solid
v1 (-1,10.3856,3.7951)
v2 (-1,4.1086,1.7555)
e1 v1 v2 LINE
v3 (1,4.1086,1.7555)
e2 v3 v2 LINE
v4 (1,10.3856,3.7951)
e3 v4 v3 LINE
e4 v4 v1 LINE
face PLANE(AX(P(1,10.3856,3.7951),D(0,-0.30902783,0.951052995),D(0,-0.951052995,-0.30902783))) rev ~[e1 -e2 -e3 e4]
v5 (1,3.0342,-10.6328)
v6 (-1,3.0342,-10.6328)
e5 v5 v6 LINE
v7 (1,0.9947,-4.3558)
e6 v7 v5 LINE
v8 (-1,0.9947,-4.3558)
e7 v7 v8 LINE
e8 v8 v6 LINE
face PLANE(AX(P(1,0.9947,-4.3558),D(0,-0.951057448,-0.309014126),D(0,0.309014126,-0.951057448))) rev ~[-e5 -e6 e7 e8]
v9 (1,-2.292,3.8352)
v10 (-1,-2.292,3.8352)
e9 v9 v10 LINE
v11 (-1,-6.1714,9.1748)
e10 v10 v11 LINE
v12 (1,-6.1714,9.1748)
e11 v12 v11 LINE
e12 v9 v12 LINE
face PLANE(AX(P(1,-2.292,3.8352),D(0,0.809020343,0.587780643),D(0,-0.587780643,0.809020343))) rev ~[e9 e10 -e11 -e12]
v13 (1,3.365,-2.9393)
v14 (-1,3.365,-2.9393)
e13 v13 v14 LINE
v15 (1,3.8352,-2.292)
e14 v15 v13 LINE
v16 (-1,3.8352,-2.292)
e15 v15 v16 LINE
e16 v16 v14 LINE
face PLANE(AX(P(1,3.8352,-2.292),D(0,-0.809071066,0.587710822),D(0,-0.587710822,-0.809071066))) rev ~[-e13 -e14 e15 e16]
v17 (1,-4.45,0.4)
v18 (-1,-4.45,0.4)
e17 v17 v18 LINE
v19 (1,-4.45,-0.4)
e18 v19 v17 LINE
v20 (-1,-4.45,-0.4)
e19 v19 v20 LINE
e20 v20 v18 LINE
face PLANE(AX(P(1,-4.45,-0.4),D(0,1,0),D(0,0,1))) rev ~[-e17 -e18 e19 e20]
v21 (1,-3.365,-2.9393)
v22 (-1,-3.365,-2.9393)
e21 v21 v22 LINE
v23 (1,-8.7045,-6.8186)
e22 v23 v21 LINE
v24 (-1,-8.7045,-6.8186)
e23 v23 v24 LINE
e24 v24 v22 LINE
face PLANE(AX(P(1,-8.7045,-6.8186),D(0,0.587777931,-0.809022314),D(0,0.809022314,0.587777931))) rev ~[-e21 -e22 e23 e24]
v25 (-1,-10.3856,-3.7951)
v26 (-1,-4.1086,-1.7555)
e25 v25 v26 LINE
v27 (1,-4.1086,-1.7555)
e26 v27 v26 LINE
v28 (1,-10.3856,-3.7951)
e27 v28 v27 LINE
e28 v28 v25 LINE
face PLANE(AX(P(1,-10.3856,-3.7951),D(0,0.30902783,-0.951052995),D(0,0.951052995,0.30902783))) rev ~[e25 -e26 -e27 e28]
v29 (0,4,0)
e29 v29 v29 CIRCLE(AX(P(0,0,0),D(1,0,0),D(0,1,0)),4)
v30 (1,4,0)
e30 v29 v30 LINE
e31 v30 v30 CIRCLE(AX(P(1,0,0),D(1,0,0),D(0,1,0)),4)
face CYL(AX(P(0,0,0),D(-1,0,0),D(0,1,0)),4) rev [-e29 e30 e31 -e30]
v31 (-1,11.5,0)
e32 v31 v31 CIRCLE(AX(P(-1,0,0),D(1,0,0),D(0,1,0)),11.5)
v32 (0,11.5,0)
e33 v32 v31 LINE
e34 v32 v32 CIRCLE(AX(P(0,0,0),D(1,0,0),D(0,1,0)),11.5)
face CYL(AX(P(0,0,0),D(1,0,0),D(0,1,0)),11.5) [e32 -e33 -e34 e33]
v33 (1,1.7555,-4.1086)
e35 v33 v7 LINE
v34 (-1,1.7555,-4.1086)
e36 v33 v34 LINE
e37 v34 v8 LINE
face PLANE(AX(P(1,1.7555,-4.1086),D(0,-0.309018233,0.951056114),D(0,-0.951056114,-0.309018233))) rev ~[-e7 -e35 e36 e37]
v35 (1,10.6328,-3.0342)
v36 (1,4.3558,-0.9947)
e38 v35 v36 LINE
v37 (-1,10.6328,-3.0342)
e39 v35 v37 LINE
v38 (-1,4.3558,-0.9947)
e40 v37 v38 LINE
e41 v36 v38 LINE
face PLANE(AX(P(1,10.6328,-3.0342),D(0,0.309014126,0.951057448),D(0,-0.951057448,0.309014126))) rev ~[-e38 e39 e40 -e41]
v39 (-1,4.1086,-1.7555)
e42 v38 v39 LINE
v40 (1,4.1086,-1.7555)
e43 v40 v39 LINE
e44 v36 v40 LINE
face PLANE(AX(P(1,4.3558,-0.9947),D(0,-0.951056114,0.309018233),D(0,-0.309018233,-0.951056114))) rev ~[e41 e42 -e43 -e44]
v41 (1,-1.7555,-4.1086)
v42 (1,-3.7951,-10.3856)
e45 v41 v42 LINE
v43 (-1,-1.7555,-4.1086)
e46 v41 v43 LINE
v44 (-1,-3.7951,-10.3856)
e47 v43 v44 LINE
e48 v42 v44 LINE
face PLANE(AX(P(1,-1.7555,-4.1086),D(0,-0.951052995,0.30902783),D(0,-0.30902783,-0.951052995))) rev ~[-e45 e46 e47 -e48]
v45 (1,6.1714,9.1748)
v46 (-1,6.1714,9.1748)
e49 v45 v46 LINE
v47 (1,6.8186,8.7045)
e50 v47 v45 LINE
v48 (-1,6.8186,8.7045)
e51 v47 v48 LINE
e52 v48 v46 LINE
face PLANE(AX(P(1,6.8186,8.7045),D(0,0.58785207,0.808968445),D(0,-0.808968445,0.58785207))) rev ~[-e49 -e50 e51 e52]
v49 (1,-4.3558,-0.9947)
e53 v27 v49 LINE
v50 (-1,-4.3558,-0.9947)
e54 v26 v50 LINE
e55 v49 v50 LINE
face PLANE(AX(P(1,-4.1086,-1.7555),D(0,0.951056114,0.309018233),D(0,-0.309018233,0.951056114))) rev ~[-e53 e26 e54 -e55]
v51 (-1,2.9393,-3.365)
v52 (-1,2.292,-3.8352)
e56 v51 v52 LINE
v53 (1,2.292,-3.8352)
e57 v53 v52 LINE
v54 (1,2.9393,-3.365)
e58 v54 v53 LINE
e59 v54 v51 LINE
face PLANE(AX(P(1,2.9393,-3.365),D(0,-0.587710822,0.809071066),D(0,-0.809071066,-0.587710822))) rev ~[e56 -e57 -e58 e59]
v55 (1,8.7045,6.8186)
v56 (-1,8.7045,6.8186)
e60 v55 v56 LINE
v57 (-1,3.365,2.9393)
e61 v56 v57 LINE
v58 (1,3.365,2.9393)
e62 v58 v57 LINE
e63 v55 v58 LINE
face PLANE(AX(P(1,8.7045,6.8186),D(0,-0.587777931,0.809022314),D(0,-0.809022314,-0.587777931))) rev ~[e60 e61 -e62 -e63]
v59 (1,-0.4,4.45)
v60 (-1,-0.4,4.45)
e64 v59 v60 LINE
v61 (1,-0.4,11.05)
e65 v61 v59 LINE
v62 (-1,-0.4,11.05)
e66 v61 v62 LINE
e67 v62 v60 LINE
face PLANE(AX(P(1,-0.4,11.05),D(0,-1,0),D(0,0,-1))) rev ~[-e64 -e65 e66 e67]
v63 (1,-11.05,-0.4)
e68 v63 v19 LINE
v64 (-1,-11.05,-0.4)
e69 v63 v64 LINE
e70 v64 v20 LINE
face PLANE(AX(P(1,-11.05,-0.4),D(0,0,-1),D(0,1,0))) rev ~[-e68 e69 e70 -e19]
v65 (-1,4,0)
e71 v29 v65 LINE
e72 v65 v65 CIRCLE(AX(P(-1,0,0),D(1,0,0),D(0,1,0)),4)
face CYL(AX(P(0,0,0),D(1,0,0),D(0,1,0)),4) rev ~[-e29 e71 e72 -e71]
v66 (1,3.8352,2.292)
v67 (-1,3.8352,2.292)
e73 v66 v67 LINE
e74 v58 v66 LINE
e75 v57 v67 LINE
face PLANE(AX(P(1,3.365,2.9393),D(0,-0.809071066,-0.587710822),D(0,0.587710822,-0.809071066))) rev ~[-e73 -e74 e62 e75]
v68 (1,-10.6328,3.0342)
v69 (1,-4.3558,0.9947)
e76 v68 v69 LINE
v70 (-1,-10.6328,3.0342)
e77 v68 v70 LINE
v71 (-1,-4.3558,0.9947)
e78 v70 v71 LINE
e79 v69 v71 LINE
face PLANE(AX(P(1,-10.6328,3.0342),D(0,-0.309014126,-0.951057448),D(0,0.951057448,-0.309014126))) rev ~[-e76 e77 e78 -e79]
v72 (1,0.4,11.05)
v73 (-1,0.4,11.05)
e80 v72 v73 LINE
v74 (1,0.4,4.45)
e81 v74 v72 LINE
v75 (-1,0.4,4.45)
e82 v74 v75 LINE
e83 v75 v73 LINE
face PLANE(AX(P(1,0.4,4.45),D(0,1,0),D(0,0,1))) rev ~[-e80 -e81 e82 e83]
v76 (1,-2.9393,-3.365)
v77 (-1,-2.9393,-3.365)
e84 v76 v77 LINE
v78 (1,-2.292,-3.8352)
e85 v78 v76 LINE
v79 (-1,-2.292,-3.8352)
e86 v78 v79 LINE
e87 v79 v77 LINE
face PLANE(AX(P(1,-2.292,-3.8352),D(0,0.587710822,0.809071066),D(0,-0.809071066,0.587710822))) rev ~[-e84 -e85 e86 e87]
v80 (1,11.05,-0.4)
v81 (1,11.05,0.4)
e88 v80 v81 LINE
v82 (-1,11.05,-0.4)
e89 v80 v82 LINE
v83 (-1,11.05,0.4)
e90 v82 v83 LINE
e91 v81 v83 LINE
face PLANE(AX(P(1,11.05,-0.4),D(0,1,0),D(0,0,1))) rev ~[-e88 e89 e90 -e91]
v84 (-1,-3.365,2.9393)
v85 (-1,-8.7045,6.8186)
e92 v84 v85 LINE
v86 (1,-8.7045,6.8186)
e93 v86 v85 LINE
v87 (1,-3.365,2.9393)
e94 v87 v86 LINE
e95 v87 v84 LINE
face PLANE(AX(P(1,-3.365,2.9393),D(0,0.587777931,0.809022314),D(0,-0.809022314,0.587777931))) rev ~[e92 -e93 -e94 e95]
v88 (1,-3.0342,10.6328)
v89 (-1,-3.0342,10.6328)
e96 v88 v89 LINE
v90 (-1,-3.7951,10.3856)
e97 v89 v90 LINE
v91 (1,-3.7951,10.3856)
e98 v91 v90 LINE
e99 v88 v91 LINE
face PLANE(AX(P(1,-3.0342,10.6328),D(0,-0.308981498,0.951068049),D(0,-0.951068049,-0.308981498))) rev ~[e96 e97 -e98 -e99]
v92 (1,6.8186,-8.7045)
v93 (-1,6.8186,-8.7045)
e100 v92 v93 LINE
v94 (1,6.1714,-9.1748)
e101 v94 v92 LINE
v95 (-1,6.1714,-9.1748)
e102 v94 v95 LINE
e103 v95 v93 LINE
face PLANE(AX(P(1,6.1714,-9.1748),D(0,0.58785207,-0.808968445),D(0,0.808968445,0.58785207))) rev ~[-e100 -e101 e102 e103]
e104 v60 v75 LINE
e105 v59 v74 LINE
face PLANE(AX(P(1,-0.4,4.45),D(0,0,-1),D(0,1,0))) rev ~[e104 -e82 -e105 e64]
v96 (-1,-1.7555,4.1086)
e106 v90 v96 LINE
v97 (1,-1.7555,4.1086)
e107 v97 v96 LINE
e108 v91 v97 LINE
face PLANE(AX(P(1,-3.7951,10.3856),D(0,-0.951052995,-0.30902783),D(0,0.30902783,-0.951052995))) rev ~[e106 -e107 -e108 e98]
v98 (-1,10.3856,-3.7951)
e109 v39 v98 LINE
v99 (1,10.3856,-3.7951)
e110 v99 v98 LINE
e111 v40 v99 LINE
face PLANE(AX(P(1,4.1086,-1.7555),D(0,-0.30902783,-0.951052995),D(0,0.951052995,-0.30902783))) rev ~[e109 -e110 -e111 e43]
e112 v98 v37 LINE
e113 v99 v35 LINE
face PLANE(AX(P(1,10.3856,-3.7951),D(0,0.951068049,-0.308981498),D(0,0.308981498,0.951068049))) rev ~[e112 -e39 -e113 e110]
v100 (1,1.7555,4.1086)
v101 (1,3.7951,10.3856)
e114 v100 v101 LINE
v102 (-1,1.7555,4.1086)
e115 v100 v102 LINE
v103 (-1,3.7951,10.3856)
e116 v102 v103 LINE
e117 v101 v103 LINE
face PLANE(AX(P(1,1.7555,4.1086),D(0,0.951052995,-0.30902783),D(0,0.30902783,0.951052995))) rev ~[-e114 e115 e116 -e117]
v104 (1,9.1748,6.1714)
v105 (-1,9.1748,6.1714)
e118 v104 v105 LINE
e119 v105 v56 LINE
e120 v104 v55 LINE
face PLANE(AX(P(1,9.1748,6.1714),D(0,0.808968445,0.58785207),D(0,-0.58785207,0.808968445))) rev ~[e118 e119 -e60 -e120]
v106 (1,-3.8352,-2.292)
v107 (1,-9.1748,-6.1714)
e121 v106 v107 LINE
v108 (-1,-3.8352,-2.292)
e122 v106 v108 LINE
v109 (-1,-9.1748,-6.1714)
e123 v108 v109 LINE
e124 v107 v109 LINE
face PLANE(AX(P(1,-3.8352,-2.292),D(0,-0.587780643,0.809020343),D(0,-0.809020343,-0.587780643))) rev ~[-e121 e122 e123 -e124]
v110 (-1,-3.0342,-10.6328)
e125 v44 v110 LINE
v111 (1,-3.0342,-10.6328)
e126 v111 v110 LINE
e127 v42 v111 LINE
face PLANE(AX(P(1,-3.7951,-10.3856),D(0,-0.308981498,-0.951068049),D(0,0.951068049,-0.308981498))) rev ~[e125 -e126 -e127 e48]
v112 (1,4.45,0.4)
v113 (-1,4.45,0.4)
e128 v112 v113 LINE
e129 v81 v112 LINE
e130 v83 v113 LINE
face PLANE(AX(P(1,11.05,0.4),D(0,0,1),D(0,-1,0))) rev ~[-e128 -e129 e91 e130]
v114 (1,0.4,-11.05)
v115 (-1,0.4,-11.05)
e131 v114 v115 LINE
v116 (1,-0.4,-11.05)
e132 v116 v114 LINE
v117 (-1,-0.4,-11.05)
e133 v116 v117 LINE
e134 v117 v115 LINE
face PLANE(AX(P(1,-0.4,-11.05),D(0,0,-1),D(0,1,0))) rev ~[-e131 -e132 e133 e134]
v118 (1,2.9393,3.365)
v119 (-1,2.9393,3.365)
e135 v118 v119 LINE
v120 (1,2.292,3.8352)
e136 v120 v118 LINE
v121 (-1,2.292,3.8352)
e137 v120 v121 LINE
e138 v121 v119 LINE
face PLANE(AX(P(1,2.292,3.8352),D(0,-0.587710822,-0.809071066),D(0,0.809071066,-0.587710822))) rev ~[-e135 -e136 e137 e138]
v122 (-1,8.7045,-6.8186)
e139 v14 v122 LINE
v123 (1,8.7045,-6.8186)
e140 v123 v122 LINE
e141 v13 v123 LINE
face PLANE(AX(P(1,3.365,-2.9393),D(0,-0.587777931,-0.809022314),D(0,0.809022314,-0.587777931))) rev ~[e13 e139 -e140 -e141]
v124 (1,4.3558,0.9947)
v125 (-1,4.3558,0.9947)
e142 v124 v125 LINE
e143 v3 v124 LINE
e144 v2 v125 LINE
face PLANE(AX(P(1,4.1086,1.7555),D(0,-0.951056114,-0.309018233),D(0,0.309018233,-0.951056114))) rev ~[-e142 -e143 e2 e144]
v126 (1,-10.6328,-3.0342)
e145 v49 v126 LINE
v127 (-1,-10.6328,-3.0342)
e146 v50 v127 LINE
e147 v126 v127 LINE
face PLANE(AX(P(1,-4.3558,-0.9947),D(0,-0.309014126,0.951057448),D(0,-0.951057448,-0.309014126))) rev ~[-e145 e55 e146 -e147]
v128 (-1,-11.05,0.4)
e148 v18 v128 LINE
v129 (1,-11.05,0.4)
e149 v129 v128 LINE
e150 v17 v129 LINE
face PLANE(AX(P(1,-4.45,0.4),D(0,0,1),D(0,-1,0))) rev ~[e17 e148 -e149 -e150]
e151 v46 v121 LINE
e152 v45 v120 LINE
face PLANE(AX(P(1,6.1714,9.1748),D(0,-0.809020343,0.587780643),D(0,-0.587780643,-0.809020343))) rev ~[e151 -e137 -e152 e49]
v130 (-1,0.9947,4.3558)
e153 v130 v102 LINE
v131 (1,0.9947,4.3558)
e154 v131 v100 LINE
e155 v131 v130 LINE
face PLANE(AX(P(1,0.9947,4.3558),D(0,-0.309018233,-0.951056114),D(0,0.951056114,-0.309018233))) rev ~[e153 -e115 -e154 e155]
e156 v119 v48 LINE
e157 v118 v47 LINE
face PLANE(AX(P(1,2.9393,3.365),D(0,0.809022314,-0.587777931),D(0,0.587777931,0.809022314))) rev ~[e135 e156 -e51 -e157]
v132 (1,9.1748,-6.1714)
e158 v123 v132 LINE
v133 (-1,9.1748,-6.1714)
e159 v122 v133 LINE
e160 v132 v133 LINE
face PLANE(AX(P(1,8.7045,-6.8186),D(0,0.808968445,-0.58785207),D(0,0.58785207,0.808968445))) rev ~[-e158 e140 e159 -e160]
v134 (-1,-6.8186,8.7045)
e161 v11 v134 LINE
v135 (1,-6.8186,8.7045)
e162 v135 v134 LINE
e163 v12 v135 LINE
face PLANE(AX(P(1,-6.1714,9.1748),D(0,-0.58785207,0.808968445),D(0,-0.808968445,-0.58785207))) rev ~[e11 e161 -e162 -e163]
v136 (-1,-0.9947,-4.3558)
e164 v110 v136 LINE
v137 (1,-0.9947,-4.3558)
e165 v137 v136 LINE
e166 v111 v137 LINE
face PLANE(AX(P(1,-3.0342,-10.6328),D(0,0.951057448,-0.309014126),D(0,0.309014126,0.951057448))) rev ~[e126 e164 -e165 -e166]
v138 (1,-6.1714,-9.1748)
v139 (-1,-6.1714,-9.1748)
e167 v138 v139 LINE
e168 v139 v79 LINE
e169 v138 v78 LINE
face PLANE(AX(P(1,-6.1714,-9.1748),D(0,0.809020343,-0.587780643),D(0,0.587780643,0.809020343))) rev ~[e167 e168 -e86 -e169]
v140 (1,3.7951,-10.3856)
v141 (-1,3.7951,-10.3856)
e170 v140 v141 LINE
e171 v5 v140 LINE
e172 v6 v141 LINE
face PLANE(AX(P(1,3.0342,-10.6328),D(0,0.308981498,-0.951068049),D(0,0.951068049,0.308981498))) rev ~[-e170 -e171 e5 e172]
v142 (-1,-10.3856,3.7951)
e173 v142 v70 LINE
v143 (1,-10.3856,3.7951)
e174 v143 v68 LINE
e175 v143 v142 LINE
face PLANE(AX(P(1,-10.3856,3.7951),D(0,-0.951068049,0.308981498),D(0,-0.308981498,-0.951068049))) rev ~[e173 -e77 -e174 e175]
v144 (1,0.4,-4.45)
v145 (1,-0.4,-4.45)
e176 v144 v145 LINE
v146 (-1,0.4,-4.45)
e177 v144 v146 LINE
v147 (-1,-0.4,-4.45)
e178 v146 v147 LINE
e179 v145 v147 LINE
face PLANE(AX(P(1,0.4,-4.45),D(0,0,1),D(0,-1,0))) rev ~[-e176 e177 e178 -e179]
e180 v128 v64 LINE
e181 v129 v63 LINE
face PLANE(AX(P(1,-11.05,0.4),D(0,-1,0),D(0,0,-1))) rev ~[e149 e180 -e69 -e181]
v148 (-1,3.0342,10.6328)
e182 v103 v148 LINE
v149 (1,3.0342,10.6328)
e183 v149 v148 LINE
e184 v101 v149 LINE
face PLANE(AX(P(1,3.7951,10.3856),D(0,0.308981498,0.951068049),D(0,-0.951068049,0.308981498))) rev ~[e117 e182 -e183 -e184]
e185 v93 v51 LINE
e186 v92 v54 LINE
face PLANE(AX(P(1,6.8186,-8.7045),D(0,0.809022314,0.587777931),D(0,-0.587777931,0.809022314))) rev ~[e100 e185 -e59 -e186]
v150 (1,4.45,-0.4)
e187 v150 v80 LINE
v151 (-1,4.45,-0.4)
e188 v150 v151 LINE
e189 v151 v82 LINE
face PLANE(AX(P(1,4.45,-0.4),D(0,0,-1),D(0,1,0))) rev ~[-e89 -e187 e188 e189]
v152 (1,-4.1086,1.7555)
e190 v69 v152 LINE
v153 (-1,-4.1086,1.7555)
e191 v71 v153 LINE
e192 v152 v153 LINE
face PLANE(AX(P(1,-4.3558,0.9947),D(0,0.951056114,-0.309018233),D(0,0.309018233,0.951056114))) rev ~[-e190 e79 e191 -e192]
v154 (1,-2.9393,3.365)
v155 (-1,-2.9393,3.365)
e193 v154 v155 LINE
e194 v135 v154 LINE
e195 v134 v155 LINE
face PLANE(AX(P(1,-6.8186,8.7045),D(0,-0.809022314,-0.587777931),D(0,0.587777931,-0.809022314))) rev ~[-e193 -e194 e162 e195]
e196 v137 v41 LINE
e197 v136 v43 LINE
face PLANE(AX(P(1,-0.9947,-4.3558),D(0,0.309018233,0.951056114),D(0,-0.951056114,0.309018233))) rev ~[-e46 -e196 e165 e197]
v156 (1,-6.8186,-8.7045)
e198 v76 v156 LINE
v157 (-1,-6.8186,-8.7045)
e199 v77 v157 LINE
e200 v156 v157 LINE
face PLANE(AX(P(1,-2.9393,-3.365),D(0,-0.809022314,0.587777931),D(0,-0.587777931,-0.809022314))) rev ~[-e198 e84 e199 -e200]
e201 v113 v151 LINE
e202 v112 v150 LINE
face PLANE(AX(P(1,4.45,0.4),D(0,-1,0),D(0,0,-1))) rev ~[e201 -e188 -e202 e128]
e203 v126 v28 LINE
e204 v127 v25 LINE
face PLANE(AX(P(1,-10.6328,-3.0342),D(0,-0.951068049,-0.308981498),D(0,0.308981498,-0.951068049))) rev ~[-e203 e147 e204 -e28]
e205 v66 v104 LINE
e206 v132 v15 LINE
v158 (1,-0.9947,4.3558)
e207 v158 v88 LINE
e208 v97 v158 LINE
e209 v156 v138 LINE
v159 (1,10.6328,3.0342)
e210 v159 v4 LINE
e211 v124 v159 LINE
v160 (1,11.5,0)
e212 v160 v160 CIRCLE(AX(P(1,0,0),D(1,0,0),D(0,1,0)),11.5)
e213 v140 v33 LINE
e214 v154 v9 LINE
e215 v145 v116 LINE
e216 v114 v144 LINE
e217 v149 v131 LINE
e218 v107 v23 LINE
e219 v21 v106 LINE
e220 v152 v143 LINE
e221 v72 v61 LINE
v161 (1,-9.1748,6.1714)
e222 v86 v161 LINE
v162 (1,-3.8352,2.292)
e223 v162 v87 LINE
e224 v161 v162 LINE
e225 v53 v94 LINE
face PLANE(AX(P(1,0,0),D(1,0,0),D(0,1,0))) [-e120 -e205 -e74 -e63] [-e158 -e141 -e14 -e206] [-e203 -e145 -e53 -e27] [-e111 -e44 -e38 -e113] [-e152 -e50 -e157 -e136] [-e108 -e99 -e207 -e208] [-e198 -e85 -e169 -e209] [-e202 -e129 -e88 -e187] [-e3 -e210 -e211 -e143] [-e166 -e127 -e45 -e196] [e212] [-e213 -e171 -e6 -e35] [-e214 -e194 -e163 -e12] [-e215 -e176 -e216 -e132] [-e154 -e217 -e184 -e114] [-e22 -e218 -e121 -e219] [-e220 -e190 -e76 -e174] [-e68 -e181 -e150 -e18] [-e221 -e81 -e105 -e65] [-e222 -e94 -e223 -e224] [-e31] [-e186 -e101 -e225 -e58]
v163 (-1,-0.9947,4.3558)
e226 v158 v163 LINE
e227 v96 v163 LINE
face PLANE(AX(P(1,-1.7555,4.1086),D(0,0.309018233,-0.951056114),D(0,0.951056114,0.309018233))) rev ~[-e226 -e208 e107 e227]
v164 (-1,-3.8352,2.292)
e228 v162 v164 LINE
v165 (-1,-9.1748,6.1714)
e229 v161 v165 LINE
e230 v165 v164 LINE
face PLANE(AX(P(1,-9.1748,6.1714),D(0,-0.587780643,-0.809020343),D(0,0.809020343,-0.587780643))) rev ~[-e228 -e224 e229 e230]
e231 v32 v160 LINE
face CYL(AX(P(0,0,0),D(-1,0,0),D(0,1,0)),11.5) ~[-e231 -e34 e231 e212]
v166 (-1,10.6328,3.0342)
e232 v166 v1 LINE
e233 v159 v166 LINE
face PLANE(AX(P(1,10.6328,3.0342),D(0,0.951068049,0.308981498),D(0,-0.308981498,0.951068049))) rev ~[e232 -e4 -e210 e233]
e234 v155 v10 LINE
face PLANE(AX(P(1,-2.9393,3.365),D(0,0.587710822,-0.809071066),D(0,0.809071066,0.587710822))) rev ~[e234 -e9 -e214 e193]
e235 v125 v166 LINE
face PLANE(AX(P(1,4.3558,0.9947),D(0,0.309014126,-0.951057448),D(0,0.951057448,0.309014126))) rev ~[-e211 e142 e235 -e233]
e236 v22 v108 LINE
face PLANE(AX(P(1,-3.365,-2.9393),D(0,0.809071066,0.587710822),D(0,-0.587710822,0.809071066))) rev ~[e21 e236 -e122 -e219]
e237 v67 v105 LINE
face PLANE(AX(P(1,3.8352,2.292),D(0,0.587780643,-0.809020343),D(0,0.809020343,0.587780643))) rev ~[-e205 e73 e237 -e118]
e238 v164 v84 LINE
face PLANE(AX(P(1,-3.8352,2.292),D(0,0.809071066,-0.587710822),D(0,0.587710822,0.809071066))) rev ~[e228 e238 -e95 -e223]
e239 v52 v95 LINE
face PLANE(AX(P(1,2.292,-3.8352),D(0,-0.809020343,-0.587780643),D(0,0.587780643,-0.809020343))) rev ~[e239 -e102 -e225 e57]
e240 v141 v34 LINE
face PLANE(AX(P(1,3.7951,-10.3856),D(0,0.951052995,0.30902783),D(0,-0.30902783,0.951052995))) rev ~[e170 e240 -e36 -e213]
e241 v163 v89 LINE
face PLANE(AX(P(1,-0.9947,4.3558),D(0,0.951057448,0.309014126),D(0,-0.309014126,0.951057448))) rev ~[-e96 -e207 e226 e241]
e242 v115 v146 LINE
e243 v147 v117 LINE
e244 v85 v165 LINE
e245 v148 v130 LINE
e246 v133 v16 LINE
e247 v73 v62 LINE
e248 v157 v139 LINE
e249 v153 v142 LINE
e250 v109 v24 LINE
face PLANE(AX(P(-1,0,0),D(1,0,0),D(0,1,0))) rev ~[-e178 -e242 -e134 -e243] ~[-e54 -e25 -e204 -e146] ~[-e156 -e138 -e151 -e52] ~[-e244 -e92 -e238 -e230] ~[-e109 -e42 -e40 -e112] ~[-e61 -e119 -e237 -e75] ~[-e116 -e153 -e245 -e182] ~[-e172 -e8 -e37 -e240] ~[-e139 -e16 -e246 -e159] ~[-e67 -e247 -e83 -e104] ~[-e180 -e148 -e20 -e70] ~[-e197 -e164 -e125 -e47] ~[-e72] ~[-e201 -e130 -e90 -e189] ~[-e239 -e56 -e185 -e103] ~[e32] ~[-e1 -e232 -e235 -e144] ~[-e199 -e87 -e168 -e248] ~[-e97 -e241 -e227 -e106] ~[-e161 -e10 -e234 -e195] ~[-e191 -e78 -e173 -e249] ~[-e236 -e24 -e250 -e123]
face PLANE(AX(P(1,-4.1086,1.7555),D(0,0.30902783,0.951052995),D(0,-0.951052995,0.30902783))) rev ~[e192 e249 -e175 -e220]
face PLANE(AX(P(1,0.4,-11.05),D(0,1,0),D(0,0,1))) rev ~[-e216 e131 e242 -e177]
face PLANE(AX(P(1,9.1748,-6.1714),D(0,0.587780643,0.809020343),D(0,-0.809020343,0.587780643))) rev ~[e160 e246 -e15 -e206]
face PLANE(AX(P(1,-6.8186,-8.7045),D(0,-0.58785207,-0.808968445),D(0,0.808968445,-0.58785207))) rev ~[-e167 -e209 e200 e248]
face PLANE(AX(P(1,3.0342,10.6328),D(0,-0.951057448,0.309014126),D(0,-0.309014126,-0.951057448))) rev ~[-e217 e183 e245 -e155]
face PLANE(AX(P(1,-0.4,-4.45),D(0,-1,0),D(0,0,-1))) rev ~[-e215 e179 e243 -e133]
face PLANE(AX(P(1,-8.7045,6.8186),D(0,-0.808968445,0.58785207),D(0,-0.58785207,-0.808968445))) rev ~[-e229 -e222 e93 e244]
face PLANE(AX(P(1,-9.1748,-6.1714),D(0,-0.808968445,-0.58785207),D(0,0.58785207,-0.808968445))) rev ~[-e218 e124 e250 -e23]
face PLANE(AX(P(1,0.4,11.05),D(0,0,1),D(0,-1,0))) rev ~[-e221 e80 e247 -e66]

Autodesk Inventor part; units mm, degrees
ref_plane "YZ Plane" through (0, 0, 0) normal (1, 0, 0) x (0, 1, 0)
ref_plane "XZ Plane" through (0, 0, 0) normal (0, 1, 0) x (-1, 0, 0)
ref_plane "XY Plane" through (0, 0, 0) normal (0, 0, 1) x (1, 0, 0)
sketch "Sketch1" plane through (0, 0, 0) normal (1, 0, 0) x (0, 1, 0)
  circle A0 centre (0, 0) radius 4
  circle A1 centre (0, 0) radius 11.5
  dimension "d0" = 8
  dimension "d1" = 23
extrude "Extrusion1" add sketch "Sketch1" along normal mid plane 2
sketch "Sketch4" plane through (1, 0, 0) normal (1, 0, 0) x (0, 0, -1)
  circle A0 centre (0, 0) radius 11.5 construction
  circle A1 centre (0, 0) radius 4 construction
  line L0 (-11.5, 0) -> (-4, 0) construction
  line L1 (-11.05, -0.4) -> (-4.45, -0.4)
  line L2 (-4.45, -0.4) -> (-4.45, 0.4)
  line L3 (-4.45, 0.4) -> (-11.05, 0.4)
  line L4 (-11.05, 0.4) -> (-11.05, -0.4)
  line L5 (-11.05, -0.4) -> (-4.45, 0.4) construction
  line L6 (-4.45, -0.4) -> (-11.05, 0.4) construction
  line L7 (-4.3558, -0.9947) -> (-10.6328, -3.0342)
  line L8 (-4.1086, -1.7555) -> (-4.3558, -0.9947)
  line L9 (-10.3856, -3.7951) -> (-4.1086, -1.7555)
  line L10 (-10.6328, -3.0342) -> (-10.3856, -3.7951)
  line L11 (-3.8352, -2.292) -> (-9.1748, -6.1714)
  line L12 (-3.365, -2.9393) -> (-3.8352, -2.292)
  line L13 (-8.7045, -6.8186) -> (-3.365, -2.9393)
  line L14 (-9.1748, -6.1714) -> (-8.7045, -6.8186)
  line L15 (-2.9393, -3.365) -> (-6.8186, -8.7045)
  line L16 (-2.292, -3.8352) -> (-2.9393, -3.365)
  line L17 (-6.1714, -9.1748) -> (-2.292, -3.8352)
  line L18 (-6.8186, -8.7045) -> (-6.1714, -9.1748)
  line L19 (-1.7555, -4.1086) -> (-3.7951, -10.3856)
  line L20 (-0.9947, -4.3558) -> (-1.7555, -4.1086)
  line L21 (-3.0342, -10.6328) -> (-0.9947, -4.3558)
  line L22 (-3.7951, -10.3856) -> (-3.0342, -10.6328)
  line L23 (-0.4, -4.45) -> (-0.4, -11.05)
  line L24 (0.4, -4.45) -> (-0.4, -4.45)
  line L25 (0.4, -11.05) -> (0.4, -4.45)
  line L26 (-0.4, -11.05) -> (0.4, -11.05)
  line L27 (0.9947, -4.3558) -> (3.0342, -10.6328)
  line L28 (1.7555, -4.1086) -> (0.9947, -4.3558)
  line L29 (3.7951, -10.3856) -> (1.7555, -4.1086)
  line L30 (3.0342, -10.6328) -> (3.7951, -10.3856)
  line L31 (2.292, -3.8352) -> (6.1714, -9.1748)
  line L32 (2.9393, -3.365) -> (2.292, -3.8352)
  line L33 (6.8186, -8.7045) -> (2.9393, -3.365)
  line L34 (6.1714, -9.1748) -> (6.8186, -8.7045)
  line L35 (3.365, -2.9393) -> (8.7045, -6.8186)
  line L36 (3.8352, -2.292) -> (3.365, -2.9393)
  line L37 (9.1748, -6.1714) -> (3.8352, -2.292)
  line L38 (8.7045, -6.8186) -> (9.1748, -6.1714)
  line L39 (4.1086, -1.7555) -> (10.3856, -3.7951)
  line L40 (4.3558, -0.9947) -> (4.1086, -1.7555)
  line L41 (10.6328, -3.0342) -> (4.3558, -0.9947)
  line L42 (10.3856, -3.7951) -> (10.6328, -3.0342)
  line L43 (4.45, -0.4) -> (11.05, -0.4)
  line L44 (4.45, 0.4) -> (4.45, -0.4)
  line L45 (11.05, 0.4) -> (4.45, 0.4)
  line L46 (11.05, -0.4) -> (11.05, 0.4)
  line L47 (4.3558, 0.9947) -> (10.6328, 3.0342)
  line L48 (4.1086, 1.7555) -> (4.3558, 0.9947)
  line L49 (10.3856, 3.7951) -> (4.1086, 1.7555)
  line L50 (10.6328, 3.0342) -> (10.3856, 3.7951)
  line L51 (3.8352, 2.292) -> (9.1748, 6.1714)
  line L52 (3.365, 2.9393) -> (3.8352, 2.292)
  line L53 (8.7045, 6.8186) -> (3.365, 2.9393)
  line L54 (9.1748, 6.1714) -> (8.7045, 6.8186)
  line L55 (2.9393, 3.365) -> (6.8186, 8.7045)
  line L56 (2.292, 3.8352) -> (2.9393, 3.365)
  line L57 (6.1714, 9.1748) -> (2.292, 3.8352)
  line L58 (6.8186, 8.7045) -> (6.1714, 9.1748)
  line L59 (1.7555, 4.1086) -> (3.7951, 10.3856)
  line L60 (0.9947, 4.3558) -> (1.7555, 4.1086)
  line L61 (3.0342, 10.6328) -> (0.9947, 4.3558)
  line L62 (3.7951, 10.3856) -> (3.0342, 10.6328)
  line L63 (0.4, 4.45) -> (0.4, 11.05)
  line L64 (-0.4, 4.45) -> (0.4, 4.45)
  line L65 (-0.4, 11.05) -> (-0.4, 4.45)
  line L66 (0.4, 11.05) -> (-0.4, 11.05)
  line L67 (-0.9947, 4.3558) -> (-3.0342, 10.6328)
  line L68 (-1.7555, 4.1086) -> (-0.9947, 4.3558)
  line L69 (-3.7951, 10.3856) -> (-1.7555, 4.1086)
  line L70 (-3.0342, 10.6328) -> (-3.7951, 10.3856)
  line L71 (-2.292, 3.8352) -> (-6.1714, 9.1748)
  line L72 (-2.9393, 3.365) -> (-2.292, 3.8352)
  line L73 (-6.8186, 8.7045) -> (-2.9393, 3.365)
  line L74 (-6.1714, 9.1748) -> (-6.8186, 8.7045)
  line L75 (-3.365, 2.9393) -> (-8.7045, 6.8186)
  line L76 (-3.8352, 2.292) -> (-3.365, 2.9393)
  line L77 (-9.1748, 6.1714) -> (-3.8352, 2.292)
  line L78 (-8.7045, 6.8186) -> (-9.1748, 6.1714)
  line L79 (-4.1086, 1.7555) -> (-10.3856, 3.7951)
  line L80 (-4.3558, 0.9947) -> (-4.1086, 1.7555)
  line L81 (-10.6328, 3.0342) -> (-4.3558, 0.9947)
  line L82 (-10.3856, 3.7951) -> (-10.6328, 3.0342)
  point P0 (-7.75, 0)
  dimension "d15" = 6.6
  dimension "d16" = 0.8
  dimension "d19" = 360
extrude "Extrusion4" cut sketch "Sketch4" against normal blind 5
properties part number "encoder"
